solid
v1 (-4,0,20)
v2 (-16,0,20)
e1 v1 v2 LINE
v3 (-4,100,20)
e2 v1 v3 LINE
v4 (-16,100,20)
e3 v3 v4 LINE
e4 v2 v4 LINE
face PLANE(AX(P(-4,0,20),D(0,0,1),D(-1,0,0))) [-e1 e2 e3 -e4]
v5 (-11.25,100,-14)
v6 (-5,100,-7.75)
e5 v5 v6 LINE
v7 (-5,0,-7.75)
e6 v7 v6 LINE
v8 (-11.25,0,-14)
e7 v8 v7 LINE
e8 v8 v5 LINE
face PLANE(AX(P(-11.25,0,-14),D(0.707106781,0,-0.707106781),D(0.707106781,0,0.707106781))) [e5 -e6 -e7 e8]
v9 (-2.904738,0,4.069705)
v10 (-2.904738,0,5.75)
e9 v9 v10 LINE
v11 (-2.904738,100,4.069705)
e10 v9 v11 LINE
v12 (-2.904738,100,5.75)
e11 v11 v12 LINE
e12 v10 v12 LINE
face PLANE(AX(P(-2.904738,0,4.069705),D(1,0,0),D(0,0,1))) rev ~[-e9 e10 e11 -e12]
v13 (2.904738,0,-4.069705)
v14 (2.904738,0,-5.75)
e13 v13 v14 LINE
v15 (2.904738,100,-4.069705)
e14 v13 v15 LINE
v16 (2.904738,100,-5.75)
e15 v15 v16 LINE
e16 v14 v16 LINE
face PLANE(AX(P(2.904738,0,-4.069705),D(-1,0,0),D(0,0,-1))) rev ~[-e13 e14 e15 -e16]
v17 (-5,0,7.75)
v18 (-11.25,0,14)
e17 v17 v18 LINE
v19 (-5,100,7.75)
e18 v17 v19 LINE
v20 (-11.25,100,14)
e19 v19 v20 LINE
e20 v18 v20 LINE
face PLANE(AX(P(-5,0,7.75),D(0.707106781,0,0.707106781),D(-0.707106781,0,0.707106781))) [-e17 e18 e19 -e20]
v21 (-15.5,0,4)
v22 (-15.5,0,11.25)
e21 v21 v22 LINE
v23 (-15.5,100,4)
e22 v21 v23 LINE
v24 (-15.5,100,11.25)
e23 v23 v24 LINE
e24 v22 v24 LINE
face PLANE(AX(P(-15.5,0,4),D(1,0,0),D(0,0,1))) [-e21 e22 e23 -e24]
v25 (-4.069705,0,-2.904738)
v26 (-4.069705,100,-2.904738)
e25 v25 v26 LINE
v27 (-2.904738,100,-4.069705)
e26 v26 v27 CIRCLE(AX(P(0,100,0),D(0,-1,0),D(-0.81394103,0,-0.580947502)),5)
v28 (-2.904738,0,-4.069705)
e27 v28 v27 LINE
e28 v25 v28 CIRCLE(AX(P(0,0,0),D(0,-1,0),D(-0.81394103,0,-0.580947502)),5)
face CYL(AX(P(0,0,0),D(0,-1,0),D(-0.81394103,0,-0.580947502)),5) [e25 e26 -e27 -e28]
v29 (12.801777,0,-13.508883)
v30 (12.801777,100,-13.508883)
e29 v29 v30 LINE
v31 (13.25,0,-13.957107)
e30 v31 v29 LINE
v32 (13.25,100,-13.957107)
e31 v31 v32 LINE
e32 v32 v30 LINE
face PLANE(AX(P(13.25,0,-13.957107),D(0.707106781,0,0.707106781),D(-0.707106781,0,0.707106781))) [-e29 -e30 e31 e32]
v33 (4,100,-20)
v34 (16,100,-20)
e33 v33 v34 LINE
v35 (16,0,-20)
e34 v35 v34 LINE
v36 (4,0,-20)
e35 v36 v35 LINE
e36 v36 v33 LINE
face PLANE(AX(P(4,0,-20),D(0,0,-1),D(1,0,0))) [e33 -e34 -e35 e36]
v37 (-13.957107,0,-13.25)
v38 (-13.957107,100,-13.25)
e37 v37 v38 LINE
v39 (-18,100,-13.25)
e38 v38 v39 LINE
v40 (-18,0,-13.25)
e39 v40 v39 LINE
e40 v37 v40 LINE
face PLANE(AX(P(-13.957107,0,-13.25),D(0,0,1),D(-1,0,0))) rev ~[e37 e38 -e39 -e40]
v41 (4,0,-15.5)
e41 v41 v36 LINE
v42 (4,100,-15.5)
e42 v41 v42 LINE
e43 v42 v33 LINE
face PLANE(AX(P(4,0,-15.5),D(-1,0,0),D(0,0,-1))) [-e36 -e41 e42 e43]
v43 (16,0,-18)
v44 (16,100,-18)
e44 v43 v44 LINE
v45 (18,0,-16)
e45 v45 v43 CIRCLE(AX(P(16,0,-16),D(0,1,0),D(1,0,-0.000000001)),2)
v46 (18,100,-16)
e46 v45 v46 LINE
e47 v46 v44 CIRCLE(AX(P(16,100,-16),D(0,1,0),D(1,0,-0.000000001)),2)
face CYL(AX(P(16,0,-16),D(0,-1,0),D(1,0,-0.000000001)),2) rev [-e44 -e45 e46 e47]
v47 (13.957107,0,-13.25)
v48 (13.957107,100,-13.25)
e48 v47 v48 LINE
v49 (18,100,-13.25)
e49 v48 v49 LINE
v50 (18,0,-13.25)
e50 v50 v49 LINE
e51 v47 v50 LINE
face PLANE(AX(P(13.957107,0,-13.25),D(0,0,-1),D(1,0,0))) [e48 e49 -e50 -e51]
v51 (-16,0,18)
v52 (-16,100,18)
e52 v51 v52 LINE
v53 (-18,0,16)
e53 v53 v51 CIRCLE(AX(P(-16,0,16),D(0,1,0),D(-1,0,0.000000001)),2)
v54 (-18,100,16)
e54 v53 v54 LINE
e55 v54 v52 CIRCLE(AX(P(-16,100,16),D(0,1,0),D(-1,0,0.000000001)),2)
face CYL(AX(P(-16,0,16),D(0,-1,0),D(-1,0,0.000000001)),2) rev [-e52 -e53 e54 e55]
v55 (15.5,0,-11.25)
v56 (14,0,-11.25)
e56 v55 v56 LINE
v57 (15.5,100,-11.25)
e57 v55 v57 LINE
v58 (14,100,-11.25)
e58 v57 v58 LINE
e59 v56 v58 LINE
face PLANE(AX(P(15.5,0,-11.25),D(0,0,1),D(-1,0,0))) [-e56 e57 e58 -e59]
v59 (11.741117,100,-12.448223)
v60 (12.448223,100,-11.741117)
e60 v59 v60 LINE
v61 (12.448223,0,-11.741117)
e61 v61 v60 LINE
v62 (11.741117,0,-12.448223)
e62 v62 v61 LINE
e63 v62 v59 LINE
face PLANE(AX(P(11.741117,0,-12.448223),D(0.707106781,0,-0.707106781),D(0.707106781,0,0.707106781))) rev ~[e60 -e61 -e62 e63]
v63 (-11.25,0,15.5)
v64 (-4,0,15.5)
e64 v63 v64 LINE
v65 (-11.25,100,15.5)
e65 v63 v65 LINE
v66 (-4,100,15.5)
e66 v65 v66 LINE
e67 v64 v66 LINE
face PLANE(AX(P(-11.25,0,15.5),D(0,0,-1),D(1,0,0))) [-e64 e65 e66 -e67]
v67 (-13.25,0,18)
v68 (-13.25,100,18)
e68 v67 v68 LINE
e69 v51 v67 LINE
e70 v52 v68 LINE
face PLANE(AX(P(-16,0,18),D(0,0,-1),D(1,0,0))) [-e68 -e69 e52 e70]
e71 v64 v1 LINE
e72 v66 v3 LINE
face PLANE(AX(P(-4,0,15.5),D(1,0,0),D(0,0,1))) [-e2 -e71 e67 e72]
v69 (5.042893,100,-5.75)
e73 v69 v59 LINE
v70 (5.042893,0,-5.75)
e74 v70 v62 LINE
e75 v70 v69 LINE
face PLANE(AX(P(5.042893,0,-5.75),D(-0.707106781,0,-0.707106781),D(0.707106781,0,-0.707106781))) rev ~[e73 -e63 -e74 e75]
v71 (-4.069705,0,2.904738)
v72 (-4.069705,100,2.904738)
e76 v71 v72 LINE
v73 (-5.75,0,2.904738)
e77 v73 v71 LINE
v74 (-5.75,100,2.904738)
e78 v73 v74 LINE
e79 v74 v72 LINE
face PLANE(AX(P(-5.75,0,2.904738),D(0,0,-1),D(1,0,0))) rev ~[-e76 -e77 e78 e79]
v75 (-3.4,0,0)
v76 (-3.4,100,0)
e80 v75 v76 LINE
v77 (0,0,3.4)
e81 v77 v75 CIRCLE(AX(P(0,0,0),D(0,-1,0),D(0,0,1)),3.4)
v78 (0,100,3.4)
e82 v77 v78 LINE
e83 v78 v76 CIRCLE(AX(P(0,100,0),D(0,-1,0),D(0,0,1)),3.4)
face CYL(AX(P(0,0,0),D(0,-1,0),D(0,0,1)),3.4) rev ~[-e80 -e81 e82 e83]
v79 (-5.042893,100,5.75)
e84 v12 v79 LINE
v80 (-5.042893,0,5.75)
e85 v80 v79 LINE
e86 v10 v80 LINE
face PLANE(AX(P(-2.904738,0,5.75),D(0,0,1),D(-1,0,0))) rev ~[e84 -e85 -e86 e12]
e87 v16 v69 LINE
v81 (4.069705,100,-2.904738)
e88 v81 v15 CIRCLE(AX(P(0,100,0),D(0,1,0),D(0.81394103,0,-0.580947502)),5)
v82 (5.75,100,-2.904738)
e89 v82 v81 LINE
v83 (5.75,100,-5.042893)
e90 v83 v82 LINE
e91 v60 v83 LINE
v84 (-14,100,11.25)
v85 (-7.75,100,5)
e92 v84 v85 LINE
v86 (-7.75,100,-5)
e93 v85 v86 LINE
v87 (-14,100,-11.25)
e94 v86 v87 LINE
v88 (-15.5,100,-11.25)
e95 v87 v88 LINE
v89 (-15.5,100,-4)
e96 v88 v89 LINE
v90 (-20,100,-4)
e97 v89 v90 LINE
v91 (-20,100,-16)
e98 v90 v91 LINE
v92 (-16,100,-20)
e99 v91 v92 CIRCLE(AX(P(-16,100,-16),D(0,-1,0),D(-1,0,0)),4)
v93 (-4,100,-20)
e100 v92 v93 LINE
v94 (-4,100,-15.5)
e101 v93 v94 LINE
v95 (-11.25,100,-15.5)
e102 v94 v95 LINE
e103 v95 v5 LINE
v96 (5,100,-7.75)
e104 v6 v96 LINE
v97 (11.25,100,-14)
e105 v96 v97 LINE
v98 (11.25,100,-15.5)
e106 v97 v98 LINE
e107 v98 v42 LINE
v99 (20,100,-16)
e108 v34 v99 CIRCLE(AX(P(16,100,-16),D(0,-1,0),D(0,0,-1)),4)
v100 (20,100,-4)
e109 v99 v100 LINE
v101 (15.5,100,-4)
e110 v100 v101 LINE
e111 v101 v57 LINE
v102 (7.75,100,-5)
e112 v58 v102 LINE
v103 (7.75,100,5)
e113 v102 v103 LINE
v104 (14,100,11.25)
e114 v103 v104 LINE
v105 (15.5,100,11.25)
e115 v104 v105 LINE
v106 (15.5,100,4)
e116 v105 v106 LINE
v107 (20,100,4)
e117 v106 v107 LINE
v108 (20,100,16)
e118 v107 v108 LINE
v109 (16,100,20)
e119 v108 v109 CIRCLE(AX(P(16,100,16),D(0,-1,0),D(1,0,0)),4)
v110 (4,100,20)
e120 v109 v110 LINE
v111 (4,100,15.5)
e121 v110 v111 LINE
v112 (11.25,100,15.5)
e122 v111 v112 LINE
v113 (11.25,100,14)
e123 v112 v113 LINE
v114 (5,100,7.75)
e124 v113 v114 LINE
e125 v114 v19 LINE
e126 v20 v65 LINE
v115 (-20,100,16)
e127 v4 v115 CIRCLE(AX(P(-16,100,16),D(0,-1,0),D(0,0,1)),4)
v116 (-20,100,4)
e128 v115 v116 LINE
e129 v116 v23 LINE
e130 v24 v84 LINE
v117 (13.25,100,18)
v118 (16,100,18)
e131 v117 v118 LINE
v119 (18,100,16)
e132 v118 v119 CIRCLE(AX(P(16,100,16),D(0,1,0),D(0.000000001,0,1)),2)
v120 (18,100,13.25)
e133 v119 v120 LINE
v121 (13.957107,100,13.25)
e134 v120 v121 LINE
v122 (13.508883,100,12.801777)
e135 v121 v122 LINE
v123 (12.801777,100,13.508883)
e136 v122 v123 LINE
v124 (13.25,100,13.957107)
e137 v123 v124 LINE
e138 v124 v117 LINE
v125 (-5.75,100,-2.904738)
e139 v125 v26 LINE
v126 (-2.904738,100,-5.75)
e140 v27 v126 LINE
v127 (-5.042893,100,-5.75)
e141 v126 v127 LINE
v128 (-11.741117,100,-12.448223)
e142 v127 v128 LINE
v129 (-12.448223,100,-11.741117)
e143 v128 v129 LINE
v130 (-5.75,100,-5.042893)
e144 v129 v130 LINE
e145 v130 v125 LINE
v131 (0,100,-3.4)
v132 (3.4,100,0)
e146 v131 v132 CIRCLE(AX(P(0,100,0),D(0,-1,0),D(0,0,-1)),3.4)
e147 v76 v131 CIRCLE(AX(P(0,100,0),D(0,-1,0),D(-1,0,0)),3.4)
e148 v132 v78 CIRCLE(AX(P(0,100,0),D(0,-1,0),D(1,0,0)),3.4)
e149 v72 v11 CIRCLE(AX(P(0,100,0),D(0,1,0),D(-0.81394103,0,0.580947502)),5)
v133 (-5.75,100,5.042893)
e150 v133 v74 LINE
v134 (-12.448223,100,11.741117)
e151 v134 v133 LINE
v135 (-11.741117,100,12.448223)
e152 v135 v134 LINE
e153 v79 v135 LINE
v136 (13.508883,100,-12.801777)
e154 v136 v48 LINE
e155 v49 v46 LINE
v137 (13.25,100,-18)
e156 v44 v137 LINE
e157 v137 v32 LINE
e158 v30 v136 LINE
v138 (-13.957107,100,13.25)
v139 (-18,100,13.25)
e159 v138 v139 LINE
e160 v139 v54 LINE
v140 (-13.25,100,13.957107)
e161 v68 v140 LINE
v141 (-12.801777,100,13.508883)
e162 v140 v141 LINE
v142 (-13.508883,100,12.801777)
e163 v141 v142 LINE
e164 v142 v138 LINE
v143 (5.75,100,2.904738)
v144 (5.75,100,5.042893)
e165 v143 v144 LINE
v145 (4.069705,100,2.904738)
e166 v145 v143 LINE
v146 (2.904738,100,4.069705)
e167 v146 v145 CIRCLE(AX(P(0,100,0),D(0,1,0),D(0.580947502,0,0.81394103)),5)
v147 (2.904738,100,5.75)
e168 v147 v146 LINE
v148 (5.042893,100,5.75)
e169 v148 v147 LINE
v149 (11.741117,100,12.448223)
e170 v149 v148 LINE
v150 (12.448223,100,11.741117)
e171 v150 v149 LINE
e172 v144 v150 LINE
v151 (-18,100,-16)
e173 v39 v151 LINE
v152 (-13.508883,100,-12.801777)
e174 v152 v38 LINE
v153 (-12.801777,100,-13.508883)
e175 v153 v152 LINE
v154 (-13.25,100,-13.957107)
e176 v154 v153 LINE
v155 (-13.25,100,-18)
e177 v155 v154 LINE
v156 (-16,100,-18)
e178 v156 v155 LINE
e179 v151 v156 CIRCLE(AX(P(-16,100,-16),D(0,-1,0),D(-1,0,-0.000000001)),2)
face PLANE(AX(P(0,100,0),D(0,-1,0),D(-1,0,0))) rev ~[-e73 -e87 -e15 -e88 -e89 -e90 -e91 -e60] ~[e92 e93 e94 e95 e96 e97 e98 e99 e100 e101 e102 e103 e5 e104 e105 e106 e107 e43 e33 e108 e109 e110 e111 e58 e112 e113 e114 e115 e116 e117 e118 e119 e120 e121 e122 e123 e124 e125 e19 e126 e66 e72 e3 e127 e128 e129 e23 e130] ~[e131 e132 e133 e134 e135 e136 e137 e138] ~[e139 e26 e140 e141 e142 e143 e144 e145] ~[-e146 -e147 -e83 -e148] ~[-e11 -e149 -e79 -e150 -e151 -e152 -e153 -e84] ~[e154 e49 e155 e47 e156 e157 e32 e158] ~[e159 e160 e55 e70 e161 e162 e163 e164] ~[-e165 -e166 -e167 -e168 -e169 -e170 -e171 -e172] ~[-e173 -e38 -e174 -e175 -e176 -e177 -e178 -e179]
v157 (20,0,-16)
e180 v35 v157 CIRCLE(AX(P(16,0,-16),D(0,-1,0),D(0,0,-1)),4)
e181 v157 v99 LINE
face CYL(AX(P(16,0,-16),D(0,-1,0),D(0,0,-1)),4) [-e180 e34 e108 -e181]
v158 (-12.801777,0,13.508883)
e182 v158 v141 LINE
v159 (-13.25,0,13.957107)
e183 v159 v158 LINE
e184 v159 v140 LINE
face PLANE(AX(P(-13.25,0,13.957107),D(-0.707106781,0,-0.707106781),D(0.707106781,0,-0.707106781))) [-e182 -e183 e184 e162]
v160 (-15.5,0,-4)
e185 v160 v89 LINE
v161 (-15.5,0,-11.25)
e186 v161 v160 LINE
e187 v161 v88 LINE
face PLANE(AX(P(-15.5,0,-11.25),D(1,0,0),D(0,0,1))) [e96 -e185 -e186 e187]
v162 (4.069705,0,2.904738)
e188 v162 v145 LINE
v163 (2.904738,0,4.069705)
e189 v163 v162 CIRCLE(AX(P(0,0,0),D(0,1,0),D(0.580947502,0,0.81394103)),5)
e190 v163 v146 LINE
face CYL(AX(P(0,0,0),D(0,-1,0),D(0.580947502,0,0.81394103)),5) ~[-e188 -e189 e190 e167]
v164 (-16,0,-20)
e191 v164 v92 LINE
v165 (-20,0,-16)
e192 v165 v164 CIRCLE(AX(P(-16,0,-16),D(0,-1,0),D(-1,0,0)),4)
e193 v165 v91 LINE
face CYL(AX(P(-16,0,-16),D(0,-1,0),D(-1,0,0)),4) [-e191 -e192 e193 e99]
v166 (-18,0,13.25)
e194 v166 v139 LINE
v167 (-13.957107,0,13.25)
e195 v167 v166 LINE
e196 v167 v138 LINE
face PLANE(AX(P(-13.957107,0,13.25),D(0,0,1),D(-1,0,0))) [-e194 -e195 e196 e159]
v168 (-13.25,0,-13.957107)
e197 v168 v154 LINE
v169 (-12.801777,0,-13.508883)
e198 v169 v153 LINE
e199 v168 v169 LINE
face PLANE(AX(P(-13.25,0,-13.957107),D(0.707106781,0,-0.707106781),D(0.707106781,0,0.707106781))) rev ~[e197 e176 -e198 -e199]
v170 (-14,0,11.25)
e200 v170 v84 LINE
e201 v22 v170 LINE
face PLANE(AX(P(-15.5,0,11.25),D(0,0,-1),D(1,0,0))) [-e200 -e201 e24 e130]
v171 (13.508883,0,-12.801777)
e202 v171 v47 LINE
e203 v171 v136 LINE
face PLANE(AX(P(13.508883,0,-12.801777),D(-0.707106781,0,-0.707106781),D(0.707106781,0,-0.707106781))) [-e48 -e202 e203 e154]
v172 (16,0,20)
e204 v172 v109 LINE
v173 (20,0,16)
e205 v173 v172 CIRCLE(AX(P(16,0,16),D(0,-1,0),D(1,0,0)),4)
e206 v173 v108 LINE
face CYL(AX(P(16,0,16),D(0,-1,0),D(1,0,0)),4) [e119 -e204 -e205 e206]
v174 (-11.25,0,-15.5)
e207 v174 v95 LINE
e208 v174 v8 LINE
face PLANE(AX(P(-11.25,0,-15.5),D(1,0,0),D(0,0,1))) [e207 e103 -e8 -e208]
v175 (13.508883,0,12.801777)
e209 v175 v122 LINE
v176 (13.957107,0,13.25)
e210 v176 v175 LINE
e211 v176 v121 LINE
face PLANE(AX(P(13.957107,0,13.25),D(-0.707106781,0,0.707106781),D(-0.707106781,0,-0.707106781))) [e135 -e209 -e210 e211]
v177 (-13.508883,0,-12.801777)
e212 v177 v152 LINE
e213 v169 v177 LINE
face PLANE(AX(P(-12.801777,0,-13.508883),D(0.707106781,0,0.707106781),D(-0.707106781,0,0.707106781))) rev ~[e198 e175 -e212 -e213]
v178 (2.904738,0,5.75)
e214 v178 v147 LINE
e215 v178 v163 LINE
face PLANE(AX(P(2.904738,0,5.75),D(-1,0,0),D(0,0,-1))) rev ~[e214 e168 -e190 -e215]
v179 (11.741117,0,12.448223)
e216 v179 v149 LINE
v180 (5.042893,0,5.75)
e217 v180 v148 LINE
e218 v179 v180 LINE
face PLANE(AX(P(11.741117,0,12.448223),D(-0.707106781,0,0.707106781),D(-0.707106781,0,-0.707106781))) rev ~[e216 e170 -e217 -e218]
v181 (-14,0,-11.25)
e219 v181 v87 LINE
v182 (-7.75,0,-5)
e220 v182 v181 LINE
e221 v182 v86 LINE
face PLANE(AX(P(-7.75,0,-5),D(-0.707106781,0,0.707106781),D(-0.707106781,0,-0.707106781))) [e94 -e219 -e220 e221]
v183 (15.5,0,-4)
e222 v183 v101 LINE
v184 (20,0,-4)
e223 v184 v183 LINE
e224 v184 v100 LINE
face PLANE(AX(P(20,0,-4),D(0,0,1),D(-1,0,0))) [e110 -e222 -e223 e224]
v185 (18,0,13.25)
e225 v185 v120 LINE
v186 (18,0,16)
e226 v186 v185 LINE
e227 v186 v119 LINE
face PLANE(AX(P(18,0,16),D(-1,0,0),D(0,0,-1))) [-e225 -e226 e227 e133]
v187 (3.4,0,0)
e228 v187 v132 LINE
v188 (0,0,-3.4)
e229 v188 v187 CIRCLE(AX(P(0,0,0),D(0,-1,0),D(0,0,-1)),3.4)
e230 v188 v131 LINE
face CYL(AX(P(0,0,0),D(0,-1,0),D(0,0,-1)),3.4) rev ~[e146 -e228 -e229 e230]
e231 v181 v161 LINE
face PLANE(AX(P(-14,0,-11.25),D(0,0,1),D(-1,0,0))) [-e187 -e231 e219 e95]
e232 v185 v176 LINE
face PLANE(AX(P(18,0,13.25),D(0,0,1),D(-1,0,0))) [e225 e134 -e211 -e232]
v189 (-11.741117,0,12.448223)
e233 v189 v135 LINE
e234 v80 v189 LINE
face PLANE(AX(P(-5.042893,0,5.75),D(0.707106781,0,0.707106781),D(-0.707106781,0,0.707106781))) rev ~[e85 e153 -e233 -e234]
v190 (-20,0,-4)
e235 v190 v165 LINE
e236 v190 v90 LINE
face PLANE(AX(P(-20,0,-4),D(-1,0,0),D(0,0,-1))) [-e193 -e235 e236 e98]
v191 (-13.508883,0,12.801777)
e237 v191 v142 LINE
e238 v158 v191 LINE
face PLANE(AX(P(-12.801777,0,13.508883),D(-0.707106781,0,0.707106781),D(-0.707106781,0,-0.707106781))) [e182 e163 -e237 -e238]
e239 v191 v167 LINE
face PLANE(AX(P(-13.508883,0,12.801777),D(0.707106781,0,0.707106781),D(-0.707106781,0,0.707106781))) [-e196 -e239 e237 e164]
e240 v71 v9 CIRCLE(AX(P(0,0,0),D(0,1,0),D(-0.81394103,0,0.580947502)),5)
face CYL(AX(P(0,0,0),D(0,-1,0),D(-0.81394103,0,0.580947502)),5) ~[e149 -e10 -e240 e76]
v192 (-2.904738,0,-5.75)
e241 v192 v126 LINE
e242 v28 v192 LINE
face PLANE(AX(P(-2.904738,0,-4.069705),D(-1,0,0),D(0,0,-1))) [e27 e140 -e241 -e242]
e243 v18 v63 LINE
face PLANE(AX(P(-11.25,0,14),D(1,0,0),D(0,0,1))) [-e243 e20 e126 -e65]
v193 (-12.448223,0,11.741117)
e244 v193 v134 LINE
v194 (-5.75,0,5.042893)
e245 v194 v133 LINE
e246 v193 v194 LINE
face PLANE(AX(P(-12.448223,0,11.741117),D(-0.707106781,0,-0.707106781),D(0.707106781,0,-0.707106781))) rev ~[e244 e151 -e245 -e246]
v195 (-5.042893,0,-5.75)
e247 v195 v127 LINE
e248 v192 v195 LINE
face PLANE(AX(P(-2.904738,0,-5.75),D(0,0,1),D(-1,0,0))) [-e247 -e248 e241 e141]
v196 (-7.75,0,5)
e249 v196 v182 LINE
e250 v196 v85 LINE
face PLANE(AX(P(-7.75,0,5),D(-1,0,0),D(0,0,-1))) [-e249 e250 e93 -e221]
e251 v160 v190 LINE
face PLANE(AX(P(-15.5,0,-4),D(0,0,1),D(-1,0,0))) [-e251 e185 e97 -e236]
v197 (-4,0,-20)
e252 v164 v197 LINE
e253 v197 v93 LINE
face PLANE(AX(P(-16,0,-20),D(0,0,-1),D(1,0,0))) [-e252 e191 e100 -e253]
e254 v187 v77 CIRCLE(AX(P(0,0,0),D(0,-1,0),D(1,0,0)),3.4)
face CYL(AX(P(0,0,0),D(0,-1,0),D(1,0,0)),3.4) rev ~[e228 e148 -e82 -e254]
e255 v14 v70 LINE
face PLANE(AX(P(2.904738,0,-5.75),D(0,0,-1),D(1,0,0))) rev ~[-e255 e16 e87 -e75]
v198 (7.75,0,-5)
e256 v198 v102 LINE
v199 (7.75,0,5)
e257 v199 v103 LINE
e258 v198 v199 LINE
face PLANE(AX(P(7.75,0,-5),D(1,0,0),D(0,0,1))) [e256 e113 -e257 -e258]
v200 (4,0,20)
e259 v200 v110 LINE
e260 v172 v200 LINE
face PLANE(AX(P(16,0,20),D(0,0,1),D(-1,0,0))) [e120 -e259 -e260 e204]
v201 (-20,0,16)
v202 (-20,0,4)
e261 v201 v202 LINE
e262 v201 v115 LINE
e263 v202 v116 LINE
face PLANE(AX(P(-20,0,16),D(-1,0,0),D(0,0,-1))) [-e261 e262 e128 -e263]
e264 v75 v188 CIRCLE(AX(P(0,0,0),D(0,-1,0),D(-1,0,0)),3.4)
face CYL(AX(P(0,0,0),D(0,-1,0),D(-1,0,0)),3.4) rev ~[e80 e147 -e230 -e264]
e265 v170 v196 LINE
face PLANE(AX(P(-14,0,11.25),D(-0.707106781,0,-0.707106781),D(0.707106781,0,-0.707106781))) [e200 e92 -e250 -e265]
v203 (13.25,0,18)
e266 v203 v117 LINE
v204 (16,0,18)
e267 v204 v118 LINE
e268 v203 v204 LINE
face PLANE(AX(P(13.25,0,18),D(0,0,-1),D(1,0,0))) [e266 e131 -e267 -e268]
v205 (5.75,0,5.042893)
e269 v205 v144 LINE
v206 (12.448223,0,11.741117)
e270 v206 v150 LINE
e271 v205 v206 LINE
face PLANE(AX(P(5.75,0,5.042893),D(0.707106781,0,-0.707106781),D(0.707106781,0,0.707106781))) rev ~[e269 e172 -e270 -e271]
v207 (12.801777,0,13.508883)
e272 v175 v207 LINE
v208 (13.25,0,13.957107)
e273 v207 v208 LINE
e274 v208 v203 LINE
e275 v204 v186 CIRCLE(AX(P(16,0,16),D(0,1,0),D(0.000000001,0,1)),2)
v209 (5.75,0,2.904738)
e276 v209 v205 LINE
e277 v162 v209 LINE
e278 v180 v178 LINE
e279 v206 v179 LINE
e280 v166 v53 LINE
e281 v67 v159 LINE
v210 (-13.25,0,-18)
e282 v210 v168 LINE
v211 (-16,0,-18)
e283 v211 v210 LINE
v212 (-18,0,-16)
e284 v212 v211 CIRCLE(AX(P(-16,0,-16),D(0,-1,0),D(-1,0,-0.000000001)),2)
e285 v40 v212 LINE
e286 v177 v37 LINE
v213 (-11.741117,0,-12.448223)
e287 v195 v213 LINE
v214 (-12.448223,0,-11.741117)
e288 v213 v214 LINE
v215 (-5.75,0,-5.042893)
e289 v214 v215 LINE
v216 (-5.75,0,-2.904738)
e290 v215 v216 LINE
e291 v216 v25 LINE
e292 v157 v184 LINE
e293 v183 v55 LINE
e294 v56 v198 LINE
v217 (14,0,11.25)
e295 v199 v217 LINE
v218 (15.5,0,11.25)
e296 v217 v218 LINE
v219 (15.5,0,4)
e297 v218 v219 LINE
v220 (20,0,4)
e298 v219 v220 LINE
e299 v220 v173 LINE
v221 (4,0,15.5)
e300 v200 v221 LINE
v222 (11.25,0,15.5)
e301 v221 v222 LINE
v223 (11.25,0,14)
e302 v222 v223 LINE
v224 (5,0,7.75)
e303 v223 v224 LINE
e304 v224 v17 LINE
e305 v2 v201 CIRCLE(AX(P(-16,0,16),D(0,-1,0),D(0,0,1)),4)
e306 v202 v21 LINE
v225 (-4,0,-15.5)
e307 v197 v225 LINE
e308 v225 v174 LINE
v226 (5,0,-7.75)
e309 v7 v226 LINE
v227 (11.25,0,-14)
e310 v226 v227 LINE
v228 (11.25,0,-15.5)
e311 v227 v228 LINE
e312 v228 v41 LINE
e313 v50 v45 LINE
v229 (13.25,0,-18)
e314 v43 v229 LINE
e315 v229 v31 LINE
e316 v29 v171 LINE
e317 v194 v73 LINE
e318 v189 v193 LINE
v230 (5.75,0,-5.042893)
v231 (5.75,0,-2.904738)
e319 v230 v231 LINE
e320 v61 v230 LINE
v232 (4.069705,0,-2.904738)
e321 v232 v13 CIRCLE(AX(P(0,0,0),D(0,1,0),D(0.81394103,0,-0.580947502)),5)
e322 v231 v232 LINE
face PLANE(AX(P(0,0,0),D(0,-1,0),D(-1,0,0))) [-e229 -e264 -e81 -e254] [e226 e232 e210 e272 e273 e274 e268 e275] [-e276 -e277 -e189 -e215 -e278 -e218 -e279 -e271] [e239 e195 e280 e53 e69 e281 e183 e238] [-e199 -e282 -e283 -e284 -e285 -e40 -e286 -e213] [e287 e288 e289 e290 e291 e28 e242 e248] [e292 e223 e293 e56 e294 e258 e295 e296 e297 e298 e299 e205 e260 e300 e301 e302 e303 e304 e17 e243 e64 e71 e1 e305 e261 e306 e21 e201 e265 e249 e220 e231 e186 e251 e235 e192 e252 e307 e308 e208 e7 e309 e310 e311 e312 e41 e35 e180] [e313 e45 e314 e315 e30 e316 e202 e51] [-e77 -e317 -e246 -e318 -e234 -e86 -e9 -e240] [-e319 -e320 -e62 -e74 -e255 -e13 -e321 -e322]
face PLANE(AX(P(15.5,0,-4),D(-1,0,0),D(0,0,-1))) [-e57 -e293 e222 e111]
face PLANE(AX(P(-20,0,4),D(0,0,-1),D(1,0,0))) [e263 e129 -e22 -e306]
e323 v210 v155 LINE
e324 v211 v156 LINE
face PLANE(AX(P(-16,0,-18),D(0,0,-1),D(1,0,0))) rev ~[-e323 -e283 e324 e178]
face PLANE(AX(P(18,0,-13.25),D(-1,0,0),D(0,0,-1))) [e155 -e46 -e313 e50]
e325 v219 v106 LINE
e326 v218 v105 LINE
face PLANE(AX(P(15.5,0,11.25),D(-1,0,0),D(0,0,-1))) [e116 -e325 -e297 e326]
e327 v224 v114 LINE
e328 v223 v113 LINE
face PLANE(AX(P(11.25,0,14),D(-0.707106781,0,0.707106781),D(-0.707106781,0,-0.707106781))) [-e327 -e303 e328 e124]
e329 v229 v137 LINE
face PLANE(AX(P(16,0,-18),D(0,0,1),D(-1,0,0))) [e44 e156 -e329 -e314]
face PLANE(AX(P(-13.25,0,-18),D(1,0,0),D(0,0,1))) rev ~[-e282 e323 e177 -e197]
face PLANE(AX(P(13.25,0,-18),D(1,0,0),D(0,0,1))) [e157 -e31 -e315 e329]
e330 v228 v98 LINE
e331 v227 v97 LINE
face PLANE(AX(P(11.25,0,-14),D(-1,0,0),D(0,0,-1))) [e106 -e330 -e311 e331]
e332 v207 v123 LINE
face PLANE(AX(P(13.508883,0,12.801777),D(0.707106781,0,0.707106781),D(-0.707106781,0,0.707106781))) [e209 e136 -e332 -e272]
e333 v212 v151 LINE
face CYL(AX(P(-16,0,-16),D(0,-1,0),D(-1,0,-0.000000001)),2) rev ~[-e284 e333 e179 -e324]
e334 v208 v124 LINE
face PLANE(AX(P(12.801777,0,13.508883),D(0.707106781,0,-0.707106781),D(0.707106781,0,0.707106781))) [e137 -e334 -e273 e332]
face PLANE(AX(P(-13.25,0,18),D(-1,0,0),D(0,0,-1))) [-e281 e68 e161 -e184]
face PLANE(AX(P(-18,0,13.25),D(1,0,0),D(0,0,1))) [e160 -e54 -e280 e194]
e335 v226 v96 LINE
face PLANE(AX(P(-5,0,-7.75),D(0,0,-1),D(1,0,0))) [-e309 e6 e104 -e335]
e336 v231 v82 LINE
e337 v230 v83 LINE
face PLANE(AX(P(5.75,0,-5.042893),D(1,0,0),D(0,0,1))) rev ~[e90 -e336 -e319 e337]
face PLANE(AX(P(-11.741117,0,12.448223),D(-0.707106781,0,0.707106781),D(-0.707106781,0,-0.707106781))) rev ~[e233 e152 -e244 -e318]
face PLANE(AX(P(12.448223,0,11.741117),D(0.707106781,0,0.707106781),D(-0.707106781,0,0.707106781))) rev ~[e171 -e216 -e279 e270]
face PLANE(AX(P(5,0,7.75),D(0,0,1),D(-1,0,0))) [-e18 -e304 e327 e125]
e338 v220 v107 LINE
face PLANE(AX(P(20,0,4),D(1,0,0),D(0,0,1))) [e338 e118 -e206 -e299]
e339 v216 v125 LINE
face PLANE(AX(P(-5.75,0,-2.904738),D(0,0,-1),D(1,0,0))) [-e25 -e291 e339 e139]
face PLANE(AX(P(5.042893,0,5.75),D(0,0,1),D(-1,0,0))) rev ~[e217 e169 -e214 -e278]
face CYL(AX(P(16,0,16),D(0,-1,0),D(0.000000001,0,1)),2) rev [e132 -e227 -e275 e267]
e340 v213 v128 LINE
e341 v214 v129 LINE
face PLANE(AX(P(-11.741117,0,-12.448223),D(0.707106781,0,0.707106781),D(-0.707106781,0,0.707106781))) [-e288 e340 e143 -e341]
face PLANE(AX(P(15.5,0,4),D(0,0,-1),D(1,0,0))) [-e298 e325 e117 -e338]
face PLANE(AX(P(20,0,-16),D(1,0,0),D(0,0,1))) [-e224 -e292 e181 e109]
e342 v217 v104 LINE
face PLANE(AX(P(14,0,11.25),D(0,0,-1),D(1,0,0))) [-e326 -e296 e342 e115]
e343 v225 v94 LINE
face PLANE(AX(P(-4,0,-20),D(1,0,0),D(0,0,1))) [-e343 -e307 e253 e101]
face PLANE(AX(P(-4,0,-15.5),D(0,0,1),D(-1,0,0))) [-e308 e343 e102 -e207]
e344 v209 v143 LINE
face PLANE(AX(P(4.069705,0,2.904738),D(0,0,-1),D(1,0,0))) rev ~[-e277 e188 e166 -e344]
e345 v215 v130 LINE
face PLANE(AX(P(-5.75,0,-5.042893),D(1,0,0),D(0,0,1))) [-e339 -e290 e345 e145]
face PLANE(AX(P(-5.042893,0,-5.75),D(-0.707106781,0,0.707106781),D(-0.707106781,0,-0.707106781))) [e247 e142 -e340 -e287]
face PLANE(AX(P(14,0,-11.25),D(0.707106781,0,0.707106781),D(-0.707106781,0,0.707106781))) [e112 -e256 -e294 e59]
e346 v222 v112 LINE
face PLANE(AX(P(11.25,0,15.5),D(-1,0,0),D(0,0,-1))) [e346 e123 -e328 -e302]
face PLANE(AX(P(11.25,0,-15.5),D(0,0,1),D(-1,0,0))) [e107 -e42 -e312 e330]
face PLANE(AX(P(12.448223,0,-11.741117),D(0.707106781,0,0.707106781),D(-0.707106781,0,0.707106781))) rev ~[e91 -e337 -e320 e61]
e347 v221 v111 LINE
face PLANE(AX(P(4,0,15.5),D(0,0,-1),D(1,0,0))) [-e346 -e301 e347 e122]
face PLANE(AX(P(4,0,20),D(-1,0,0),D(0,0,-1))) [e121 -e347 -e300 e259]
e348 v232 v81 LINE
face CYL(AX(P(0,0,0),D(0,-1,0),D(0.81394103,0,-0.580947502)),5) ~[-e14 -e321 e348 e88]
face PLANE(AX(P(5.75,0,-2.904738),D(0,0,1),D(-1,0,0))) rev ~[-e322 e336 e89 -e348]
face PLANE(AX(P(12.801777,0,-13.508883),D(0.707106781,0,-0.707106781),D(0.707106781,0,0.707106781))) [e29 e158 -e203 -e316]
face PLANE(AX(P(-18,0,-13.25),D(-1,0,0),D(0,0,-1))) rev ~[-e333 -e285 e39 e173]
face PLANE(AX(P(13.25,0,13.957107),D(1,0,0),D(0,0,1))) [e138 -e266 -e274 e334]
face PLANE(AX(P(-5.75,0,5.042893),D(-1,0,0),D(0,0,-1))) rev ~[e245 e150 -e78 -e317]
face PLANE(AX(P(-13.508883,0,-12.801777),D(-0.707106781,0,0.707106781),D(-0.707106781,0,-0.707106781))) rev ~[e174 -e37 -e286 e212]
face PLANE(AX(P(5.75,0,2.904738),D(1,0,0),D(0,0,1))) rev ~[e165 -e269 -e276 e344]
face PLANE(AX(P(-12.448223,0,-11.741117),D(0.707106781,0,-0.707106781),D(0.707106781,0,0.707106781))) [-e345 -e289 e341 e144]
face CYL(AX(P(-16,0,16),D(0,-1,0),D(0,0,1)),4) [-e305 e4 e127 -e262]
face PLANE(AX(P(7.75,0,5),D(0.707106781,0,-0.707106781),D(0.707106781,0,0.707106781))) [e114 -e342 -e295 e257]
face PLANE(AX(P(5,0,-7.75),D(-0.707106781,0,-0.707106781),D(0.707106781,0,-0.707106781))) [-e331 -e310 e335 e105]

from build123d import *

# Parameters (mm, degrees)
BOSS_EXTRUDE1_DEPTH = 100


with BuildPart() as part:
    # Sketch1 → Boss-Extrude1 (new body)
    with BuildSketch(Plane(origin=(0, 0, 0), x_dir=(1, 0, 0), z_dir=(0, 1, 0))):
        with BuildLine():
            Line((-20, 4), (-20, 16))
            ThreePointArc((-20, 16), (-18.828427125, 18.828427125), (-16, 20))
            Line((-16, 20), (-4, 20))
            Line((-4, 20), (-4, 15.5))
            Line((-4, 15.5), (-11.25, 15.5))
            Line((-11.25, 15.5), (-11.25, 14))
            Line((-11.25, 14), (-5, 7.75))
            Line((-5, 7.75), (0, 7.75))
            Line((0, 7.75), (5, 7.75))
            Line((5, 7.75), (11.25, 14))
            Line((11.25, 14), (11.25, 15.5))
            Line((11.25, 15.5), (4, 15.5))
            Line((4, 15.5), (4, 20))
            Line((4, 20), (16, 20))
            ThreePointArc((16, 20), (18.828427125, 18.828427125), (20, 16))
            Line((20, 16), (20, 4))
            Line((20, 4), (15.5, 4))
            Line((15.5, 4), (15.5, 11.25))
            Line((15.5, 11.25), (14, 11.25))
            Line((14, 11.25), (7.75, 5))
            Line((7.75, 5), (7.75, 0))
            Line((7.75, 0), (7.75, -5))
            Line((7.75, -5), (14, -11.25))
            Line((14, -11.25), (15.5, -11.25))
            Line((15.5, -11.25), (15.5, -4))
            Line((15.5, -4), (20, -4))
            Line((20, -4), (20, -16))
            ThreePointArc((20, -16), (18.828427125, -18.828427125), (16, -20))
            Line((16, -20), (4, -20))
            Line((4, -20), (4, -15.5))
            Line((4, -15.5), (11.25, -15.5))
            Line((11.25, -15.5), (11.25, -14))
            Line((11.25, -14), (5, -7.75))
            Line((5, -7.75), (0, -7.75))
            Line((0, -7.75), (-5, -7.75))
            Line((-5, -7.75), (-11.25, -14))
            Line((-11.25, -14), (-11.25, -15.5))
            Line((-11.25, -15.5), (-4, -15.5))
            Line((-4, -15.5), (-4, -20))
            Line((-4, -20), (-16, -20))
            ThreePointArc((-16, -20), (-18.828427125, -18.828427125), (-20, -16))
            Line((-20, -16), (-20, -4))
            Line((-20, -4), (-15.5, -4))
            Line((-15.5, -4), (-15.5, -11.25))
            Line((-15.5, -11.25), (-14, -11.25))
            Line((-14, -11.25), (-7.75, -5))
            Line((-7.75, -5), (-7.75, 0))
            Line((-7.75, 0), (-7.75, 5))
            Line((-7.75, 5), (-14, 11.25))
            Line((-14, 11.25), (-15.5, 11.25))
            Line((-15.5, 11.25), (-15.5, 4))
            Line((-15.5, 4), (-20, 4))
        make_face()
        with BuildLine():
            Line((-18, 13.25), (-18, 16))
            ThreePointArc((-18, 16), (-17.414213562, 17.414213562), (-16, 18))
            Line((-16, 18), (-13.25, 18))
            Line((-13.25, 18), (-13.25, 13.957106781))
            Line((-13.25, 13.957106781), (-12.801776695, 13.508883476))
            Line((-12.801776695, 13.508883476), (-13.508883476, 12.801776695))
            Line((-13.508883476, 12.801776695), (-13.957106781, 13.25))
            Line((-13.957106781, 13.25), (-18, 13.25))
        make_face(mode=Mode.SUBTRACT)
        with BuildLine():
            Line((-12.448223305, 11.741116524), (-5.75, 5.042893219))
            Line((-5.75, 5.042893219), (-5.75, 2.90473751))
            Line((-5.75, 2.90473751), (-5.25, 2.90473751))
            Line((-5.25, 2.90473751), (-4.069705149, 2.90473751))
            ThreePointArc((-4.069705149, 2.90473751), (-3.535533906, 3.535533906), (-2.90473751, 4.069705149))
            Line((-2.90473751, 4.069705149), (-2.90473751, 5.25))
            Line((-2.90473751, 5.25), (-2.90473751, 5.75))
            Line((-2.90473751, 5.75), (-5.042893219, 5.75))
            Line((-5.042893219, 5.75), (-11.741116524, 12.448223305))
            Line((-11.741116524, 12.448223305), (-12.448223305, 11.741116524))
        make_face(mode=Mode.SUBTRACT)
        with BuildLine():
            Line((18, 13.25), (18, 16))
            ThreePointArc((18, 16), (17.414213562, 17.414213562), (16, 18))
            Line((16, 18), (13.25, 18))
            Line((13.25, 18), (13.25, 13.957106781))
            Line((13.25, 13.957106781), (12.801776695, 13.508883476))
            Line((12.801776695, 13.508883476), (13.508883476, 12.801776695))
            Line((13.508883476, 12.801776695), (13.957106781, 13.25))
            Line((13.957106781, 13.25), (18, 13.25))
        make_face(mode=Mode.SUBTRACT)
        with BuildLine():
            Line((5.75, 5.042893219), (5.75, 2.90473751))
            Line((5.75, 2.90473751), (5.25, 2.90473751))
            Line((5.25, 2.90473751), (4.069705149, 2.90473751))
            ThreePointArc((4.069705149, 2.90473751), (3.535533906, 3.535533906), (2.90473751, 4.069705149))
            Line((2.90473751, 4.069705149), (2.90473751, 5.25))
            Line((2.90473751, 5.25), (2.90473751, 5.75))
            Line((2.90473751, 5.75), (5.042893219, 5.75))
            Line((5.042893219, 5.75), (11.741116524, 12.448223305))
            Line((11.741116524, 12.448223305), (12.448223305, 11.741116524))
            Line((12.448223305, 11.741116524), (5.75, 5.042893219))
        make_face(mode=Mode.SUBTRACT)
        with BuildLine():
            Line((13.25, -18), (16, -18))
            ThreePointArc((16, -18), (17.414213562, -17.414213562), (18, -16))
            Line((18, -16), (18, -13.25))
            Line((18, -13.25), (13.957106781, -13.25))
            Line((13.957106781, -13.25), (13.508883476, -12.801776695))
            Line((13.508883476, -12.801776695), (12.801776695, -13.508883476))
            Line((12.801776695, -13.508883476), (13.25, -13.957106781))
            Line((13.25, -13.957106781), (13.25, -18))
        make_face(mode=Mode.SUBTRACT)
        with BuildLine():
            Line((5.042893219, -5.75), (2.90473751, -5.75))
            Line((2.90473751, -5.75), (2.90473751, -5.25))
            Line((2.90473751, -5.25), (2.90473751, -4.069705149))
            ThreePointArc((2.90473751, -4.069705149), (3.535533906, -3.535533906), (4.069705149, -2.90473751))
            Line((4.069705149, -2.90473751), (5.25, -2.90473751))
            Line((5.25, -2.90473751), (5.75, -2.90473751))
            Line((5.75, -2.90473751), (5.75, -5.042893219))
            Line((5.75, -5.042893219), (12.448223305, -11.741116524))
            Line((12.448223305, -11.741116524), (11.741116524, -12.448223305))
            Line((11.741116524, -12.448223305), (5.042893219, -5.75))
        make_face(mode=Mode.SUBTRACT)
        with BuildLine():
            Line((-18, -13.25), (-18, -16))
            ThreePointArc((-18, -16), (-17.414213562, -17.414213562), (-16, -18))
            Line((-16, -18), (-13.25, -18))
            Line((-13.25, -18), (-13.25, -13.957106781))
            Line((-13.25, -13.957106781), (-12.801776695, -13.508883476))
            Line((-12.801776695, -13.508883476), (-13.508883476, -12.801776695))
            Line((-13.508883476, -12.801776695), (-13.957106781, -13.25))
            Line((-13.957106781, -13.25), (-18, -13.25))
        make_face(mode=Mode.SUBTRACT)
        with BuildLine():
            Line((-5.75, -5.042893219), (-5.75, -2.90473751))
            Line((-5.75, -2.90473751), (-5.25, -2.90473751))
            Line((-5.25, -2.90473751), (-4.069705149, -2.90473751))
            ThreePointArc((-4.069705149, -2.90473751), (-3.535533906, -3.535533906), (-2.90473751, -4.069705149))
            Line((-2.90473751, -4.069705149), (-2.90473751, -5.25))
            Line((-2.90473751, -5.25), (-2.90473751, -5.75))
            Line((-2.90473751, -5.75), (-5.042893219, -5.75))
            Line((-5.042893219, -5.75), (-11.741116524, -12.448223305))
            Line((-11.741116524, -12.448223305), (-12.448223305, -11.741116524))
            Line((-12.448223305, -11.741116524), (-5.75, -5.042893219))
        make_face(mode=Mode.SUBTRACT)
        with BuildLine():
            ThreePointArc((-3.4, 0), (-2.404163056, 2.404163056), (0, 3.4))
            ThreePointArc((0, 3.4), (2.404163056, 2.404163056), (3.4, 0))
            ThreePointArc((3.4, 0), (2.404163056, -2.404163056), (0, -3.4))
            ThreePointArc((0, -3.4), (-2.404163056, -2.404163056), (-3.4, 0))
        make_face(mode=Mode.SUBTRACT)
    extrude(amount=BOSS_EXTRUDE1_DEPTH)


solid = part.part
